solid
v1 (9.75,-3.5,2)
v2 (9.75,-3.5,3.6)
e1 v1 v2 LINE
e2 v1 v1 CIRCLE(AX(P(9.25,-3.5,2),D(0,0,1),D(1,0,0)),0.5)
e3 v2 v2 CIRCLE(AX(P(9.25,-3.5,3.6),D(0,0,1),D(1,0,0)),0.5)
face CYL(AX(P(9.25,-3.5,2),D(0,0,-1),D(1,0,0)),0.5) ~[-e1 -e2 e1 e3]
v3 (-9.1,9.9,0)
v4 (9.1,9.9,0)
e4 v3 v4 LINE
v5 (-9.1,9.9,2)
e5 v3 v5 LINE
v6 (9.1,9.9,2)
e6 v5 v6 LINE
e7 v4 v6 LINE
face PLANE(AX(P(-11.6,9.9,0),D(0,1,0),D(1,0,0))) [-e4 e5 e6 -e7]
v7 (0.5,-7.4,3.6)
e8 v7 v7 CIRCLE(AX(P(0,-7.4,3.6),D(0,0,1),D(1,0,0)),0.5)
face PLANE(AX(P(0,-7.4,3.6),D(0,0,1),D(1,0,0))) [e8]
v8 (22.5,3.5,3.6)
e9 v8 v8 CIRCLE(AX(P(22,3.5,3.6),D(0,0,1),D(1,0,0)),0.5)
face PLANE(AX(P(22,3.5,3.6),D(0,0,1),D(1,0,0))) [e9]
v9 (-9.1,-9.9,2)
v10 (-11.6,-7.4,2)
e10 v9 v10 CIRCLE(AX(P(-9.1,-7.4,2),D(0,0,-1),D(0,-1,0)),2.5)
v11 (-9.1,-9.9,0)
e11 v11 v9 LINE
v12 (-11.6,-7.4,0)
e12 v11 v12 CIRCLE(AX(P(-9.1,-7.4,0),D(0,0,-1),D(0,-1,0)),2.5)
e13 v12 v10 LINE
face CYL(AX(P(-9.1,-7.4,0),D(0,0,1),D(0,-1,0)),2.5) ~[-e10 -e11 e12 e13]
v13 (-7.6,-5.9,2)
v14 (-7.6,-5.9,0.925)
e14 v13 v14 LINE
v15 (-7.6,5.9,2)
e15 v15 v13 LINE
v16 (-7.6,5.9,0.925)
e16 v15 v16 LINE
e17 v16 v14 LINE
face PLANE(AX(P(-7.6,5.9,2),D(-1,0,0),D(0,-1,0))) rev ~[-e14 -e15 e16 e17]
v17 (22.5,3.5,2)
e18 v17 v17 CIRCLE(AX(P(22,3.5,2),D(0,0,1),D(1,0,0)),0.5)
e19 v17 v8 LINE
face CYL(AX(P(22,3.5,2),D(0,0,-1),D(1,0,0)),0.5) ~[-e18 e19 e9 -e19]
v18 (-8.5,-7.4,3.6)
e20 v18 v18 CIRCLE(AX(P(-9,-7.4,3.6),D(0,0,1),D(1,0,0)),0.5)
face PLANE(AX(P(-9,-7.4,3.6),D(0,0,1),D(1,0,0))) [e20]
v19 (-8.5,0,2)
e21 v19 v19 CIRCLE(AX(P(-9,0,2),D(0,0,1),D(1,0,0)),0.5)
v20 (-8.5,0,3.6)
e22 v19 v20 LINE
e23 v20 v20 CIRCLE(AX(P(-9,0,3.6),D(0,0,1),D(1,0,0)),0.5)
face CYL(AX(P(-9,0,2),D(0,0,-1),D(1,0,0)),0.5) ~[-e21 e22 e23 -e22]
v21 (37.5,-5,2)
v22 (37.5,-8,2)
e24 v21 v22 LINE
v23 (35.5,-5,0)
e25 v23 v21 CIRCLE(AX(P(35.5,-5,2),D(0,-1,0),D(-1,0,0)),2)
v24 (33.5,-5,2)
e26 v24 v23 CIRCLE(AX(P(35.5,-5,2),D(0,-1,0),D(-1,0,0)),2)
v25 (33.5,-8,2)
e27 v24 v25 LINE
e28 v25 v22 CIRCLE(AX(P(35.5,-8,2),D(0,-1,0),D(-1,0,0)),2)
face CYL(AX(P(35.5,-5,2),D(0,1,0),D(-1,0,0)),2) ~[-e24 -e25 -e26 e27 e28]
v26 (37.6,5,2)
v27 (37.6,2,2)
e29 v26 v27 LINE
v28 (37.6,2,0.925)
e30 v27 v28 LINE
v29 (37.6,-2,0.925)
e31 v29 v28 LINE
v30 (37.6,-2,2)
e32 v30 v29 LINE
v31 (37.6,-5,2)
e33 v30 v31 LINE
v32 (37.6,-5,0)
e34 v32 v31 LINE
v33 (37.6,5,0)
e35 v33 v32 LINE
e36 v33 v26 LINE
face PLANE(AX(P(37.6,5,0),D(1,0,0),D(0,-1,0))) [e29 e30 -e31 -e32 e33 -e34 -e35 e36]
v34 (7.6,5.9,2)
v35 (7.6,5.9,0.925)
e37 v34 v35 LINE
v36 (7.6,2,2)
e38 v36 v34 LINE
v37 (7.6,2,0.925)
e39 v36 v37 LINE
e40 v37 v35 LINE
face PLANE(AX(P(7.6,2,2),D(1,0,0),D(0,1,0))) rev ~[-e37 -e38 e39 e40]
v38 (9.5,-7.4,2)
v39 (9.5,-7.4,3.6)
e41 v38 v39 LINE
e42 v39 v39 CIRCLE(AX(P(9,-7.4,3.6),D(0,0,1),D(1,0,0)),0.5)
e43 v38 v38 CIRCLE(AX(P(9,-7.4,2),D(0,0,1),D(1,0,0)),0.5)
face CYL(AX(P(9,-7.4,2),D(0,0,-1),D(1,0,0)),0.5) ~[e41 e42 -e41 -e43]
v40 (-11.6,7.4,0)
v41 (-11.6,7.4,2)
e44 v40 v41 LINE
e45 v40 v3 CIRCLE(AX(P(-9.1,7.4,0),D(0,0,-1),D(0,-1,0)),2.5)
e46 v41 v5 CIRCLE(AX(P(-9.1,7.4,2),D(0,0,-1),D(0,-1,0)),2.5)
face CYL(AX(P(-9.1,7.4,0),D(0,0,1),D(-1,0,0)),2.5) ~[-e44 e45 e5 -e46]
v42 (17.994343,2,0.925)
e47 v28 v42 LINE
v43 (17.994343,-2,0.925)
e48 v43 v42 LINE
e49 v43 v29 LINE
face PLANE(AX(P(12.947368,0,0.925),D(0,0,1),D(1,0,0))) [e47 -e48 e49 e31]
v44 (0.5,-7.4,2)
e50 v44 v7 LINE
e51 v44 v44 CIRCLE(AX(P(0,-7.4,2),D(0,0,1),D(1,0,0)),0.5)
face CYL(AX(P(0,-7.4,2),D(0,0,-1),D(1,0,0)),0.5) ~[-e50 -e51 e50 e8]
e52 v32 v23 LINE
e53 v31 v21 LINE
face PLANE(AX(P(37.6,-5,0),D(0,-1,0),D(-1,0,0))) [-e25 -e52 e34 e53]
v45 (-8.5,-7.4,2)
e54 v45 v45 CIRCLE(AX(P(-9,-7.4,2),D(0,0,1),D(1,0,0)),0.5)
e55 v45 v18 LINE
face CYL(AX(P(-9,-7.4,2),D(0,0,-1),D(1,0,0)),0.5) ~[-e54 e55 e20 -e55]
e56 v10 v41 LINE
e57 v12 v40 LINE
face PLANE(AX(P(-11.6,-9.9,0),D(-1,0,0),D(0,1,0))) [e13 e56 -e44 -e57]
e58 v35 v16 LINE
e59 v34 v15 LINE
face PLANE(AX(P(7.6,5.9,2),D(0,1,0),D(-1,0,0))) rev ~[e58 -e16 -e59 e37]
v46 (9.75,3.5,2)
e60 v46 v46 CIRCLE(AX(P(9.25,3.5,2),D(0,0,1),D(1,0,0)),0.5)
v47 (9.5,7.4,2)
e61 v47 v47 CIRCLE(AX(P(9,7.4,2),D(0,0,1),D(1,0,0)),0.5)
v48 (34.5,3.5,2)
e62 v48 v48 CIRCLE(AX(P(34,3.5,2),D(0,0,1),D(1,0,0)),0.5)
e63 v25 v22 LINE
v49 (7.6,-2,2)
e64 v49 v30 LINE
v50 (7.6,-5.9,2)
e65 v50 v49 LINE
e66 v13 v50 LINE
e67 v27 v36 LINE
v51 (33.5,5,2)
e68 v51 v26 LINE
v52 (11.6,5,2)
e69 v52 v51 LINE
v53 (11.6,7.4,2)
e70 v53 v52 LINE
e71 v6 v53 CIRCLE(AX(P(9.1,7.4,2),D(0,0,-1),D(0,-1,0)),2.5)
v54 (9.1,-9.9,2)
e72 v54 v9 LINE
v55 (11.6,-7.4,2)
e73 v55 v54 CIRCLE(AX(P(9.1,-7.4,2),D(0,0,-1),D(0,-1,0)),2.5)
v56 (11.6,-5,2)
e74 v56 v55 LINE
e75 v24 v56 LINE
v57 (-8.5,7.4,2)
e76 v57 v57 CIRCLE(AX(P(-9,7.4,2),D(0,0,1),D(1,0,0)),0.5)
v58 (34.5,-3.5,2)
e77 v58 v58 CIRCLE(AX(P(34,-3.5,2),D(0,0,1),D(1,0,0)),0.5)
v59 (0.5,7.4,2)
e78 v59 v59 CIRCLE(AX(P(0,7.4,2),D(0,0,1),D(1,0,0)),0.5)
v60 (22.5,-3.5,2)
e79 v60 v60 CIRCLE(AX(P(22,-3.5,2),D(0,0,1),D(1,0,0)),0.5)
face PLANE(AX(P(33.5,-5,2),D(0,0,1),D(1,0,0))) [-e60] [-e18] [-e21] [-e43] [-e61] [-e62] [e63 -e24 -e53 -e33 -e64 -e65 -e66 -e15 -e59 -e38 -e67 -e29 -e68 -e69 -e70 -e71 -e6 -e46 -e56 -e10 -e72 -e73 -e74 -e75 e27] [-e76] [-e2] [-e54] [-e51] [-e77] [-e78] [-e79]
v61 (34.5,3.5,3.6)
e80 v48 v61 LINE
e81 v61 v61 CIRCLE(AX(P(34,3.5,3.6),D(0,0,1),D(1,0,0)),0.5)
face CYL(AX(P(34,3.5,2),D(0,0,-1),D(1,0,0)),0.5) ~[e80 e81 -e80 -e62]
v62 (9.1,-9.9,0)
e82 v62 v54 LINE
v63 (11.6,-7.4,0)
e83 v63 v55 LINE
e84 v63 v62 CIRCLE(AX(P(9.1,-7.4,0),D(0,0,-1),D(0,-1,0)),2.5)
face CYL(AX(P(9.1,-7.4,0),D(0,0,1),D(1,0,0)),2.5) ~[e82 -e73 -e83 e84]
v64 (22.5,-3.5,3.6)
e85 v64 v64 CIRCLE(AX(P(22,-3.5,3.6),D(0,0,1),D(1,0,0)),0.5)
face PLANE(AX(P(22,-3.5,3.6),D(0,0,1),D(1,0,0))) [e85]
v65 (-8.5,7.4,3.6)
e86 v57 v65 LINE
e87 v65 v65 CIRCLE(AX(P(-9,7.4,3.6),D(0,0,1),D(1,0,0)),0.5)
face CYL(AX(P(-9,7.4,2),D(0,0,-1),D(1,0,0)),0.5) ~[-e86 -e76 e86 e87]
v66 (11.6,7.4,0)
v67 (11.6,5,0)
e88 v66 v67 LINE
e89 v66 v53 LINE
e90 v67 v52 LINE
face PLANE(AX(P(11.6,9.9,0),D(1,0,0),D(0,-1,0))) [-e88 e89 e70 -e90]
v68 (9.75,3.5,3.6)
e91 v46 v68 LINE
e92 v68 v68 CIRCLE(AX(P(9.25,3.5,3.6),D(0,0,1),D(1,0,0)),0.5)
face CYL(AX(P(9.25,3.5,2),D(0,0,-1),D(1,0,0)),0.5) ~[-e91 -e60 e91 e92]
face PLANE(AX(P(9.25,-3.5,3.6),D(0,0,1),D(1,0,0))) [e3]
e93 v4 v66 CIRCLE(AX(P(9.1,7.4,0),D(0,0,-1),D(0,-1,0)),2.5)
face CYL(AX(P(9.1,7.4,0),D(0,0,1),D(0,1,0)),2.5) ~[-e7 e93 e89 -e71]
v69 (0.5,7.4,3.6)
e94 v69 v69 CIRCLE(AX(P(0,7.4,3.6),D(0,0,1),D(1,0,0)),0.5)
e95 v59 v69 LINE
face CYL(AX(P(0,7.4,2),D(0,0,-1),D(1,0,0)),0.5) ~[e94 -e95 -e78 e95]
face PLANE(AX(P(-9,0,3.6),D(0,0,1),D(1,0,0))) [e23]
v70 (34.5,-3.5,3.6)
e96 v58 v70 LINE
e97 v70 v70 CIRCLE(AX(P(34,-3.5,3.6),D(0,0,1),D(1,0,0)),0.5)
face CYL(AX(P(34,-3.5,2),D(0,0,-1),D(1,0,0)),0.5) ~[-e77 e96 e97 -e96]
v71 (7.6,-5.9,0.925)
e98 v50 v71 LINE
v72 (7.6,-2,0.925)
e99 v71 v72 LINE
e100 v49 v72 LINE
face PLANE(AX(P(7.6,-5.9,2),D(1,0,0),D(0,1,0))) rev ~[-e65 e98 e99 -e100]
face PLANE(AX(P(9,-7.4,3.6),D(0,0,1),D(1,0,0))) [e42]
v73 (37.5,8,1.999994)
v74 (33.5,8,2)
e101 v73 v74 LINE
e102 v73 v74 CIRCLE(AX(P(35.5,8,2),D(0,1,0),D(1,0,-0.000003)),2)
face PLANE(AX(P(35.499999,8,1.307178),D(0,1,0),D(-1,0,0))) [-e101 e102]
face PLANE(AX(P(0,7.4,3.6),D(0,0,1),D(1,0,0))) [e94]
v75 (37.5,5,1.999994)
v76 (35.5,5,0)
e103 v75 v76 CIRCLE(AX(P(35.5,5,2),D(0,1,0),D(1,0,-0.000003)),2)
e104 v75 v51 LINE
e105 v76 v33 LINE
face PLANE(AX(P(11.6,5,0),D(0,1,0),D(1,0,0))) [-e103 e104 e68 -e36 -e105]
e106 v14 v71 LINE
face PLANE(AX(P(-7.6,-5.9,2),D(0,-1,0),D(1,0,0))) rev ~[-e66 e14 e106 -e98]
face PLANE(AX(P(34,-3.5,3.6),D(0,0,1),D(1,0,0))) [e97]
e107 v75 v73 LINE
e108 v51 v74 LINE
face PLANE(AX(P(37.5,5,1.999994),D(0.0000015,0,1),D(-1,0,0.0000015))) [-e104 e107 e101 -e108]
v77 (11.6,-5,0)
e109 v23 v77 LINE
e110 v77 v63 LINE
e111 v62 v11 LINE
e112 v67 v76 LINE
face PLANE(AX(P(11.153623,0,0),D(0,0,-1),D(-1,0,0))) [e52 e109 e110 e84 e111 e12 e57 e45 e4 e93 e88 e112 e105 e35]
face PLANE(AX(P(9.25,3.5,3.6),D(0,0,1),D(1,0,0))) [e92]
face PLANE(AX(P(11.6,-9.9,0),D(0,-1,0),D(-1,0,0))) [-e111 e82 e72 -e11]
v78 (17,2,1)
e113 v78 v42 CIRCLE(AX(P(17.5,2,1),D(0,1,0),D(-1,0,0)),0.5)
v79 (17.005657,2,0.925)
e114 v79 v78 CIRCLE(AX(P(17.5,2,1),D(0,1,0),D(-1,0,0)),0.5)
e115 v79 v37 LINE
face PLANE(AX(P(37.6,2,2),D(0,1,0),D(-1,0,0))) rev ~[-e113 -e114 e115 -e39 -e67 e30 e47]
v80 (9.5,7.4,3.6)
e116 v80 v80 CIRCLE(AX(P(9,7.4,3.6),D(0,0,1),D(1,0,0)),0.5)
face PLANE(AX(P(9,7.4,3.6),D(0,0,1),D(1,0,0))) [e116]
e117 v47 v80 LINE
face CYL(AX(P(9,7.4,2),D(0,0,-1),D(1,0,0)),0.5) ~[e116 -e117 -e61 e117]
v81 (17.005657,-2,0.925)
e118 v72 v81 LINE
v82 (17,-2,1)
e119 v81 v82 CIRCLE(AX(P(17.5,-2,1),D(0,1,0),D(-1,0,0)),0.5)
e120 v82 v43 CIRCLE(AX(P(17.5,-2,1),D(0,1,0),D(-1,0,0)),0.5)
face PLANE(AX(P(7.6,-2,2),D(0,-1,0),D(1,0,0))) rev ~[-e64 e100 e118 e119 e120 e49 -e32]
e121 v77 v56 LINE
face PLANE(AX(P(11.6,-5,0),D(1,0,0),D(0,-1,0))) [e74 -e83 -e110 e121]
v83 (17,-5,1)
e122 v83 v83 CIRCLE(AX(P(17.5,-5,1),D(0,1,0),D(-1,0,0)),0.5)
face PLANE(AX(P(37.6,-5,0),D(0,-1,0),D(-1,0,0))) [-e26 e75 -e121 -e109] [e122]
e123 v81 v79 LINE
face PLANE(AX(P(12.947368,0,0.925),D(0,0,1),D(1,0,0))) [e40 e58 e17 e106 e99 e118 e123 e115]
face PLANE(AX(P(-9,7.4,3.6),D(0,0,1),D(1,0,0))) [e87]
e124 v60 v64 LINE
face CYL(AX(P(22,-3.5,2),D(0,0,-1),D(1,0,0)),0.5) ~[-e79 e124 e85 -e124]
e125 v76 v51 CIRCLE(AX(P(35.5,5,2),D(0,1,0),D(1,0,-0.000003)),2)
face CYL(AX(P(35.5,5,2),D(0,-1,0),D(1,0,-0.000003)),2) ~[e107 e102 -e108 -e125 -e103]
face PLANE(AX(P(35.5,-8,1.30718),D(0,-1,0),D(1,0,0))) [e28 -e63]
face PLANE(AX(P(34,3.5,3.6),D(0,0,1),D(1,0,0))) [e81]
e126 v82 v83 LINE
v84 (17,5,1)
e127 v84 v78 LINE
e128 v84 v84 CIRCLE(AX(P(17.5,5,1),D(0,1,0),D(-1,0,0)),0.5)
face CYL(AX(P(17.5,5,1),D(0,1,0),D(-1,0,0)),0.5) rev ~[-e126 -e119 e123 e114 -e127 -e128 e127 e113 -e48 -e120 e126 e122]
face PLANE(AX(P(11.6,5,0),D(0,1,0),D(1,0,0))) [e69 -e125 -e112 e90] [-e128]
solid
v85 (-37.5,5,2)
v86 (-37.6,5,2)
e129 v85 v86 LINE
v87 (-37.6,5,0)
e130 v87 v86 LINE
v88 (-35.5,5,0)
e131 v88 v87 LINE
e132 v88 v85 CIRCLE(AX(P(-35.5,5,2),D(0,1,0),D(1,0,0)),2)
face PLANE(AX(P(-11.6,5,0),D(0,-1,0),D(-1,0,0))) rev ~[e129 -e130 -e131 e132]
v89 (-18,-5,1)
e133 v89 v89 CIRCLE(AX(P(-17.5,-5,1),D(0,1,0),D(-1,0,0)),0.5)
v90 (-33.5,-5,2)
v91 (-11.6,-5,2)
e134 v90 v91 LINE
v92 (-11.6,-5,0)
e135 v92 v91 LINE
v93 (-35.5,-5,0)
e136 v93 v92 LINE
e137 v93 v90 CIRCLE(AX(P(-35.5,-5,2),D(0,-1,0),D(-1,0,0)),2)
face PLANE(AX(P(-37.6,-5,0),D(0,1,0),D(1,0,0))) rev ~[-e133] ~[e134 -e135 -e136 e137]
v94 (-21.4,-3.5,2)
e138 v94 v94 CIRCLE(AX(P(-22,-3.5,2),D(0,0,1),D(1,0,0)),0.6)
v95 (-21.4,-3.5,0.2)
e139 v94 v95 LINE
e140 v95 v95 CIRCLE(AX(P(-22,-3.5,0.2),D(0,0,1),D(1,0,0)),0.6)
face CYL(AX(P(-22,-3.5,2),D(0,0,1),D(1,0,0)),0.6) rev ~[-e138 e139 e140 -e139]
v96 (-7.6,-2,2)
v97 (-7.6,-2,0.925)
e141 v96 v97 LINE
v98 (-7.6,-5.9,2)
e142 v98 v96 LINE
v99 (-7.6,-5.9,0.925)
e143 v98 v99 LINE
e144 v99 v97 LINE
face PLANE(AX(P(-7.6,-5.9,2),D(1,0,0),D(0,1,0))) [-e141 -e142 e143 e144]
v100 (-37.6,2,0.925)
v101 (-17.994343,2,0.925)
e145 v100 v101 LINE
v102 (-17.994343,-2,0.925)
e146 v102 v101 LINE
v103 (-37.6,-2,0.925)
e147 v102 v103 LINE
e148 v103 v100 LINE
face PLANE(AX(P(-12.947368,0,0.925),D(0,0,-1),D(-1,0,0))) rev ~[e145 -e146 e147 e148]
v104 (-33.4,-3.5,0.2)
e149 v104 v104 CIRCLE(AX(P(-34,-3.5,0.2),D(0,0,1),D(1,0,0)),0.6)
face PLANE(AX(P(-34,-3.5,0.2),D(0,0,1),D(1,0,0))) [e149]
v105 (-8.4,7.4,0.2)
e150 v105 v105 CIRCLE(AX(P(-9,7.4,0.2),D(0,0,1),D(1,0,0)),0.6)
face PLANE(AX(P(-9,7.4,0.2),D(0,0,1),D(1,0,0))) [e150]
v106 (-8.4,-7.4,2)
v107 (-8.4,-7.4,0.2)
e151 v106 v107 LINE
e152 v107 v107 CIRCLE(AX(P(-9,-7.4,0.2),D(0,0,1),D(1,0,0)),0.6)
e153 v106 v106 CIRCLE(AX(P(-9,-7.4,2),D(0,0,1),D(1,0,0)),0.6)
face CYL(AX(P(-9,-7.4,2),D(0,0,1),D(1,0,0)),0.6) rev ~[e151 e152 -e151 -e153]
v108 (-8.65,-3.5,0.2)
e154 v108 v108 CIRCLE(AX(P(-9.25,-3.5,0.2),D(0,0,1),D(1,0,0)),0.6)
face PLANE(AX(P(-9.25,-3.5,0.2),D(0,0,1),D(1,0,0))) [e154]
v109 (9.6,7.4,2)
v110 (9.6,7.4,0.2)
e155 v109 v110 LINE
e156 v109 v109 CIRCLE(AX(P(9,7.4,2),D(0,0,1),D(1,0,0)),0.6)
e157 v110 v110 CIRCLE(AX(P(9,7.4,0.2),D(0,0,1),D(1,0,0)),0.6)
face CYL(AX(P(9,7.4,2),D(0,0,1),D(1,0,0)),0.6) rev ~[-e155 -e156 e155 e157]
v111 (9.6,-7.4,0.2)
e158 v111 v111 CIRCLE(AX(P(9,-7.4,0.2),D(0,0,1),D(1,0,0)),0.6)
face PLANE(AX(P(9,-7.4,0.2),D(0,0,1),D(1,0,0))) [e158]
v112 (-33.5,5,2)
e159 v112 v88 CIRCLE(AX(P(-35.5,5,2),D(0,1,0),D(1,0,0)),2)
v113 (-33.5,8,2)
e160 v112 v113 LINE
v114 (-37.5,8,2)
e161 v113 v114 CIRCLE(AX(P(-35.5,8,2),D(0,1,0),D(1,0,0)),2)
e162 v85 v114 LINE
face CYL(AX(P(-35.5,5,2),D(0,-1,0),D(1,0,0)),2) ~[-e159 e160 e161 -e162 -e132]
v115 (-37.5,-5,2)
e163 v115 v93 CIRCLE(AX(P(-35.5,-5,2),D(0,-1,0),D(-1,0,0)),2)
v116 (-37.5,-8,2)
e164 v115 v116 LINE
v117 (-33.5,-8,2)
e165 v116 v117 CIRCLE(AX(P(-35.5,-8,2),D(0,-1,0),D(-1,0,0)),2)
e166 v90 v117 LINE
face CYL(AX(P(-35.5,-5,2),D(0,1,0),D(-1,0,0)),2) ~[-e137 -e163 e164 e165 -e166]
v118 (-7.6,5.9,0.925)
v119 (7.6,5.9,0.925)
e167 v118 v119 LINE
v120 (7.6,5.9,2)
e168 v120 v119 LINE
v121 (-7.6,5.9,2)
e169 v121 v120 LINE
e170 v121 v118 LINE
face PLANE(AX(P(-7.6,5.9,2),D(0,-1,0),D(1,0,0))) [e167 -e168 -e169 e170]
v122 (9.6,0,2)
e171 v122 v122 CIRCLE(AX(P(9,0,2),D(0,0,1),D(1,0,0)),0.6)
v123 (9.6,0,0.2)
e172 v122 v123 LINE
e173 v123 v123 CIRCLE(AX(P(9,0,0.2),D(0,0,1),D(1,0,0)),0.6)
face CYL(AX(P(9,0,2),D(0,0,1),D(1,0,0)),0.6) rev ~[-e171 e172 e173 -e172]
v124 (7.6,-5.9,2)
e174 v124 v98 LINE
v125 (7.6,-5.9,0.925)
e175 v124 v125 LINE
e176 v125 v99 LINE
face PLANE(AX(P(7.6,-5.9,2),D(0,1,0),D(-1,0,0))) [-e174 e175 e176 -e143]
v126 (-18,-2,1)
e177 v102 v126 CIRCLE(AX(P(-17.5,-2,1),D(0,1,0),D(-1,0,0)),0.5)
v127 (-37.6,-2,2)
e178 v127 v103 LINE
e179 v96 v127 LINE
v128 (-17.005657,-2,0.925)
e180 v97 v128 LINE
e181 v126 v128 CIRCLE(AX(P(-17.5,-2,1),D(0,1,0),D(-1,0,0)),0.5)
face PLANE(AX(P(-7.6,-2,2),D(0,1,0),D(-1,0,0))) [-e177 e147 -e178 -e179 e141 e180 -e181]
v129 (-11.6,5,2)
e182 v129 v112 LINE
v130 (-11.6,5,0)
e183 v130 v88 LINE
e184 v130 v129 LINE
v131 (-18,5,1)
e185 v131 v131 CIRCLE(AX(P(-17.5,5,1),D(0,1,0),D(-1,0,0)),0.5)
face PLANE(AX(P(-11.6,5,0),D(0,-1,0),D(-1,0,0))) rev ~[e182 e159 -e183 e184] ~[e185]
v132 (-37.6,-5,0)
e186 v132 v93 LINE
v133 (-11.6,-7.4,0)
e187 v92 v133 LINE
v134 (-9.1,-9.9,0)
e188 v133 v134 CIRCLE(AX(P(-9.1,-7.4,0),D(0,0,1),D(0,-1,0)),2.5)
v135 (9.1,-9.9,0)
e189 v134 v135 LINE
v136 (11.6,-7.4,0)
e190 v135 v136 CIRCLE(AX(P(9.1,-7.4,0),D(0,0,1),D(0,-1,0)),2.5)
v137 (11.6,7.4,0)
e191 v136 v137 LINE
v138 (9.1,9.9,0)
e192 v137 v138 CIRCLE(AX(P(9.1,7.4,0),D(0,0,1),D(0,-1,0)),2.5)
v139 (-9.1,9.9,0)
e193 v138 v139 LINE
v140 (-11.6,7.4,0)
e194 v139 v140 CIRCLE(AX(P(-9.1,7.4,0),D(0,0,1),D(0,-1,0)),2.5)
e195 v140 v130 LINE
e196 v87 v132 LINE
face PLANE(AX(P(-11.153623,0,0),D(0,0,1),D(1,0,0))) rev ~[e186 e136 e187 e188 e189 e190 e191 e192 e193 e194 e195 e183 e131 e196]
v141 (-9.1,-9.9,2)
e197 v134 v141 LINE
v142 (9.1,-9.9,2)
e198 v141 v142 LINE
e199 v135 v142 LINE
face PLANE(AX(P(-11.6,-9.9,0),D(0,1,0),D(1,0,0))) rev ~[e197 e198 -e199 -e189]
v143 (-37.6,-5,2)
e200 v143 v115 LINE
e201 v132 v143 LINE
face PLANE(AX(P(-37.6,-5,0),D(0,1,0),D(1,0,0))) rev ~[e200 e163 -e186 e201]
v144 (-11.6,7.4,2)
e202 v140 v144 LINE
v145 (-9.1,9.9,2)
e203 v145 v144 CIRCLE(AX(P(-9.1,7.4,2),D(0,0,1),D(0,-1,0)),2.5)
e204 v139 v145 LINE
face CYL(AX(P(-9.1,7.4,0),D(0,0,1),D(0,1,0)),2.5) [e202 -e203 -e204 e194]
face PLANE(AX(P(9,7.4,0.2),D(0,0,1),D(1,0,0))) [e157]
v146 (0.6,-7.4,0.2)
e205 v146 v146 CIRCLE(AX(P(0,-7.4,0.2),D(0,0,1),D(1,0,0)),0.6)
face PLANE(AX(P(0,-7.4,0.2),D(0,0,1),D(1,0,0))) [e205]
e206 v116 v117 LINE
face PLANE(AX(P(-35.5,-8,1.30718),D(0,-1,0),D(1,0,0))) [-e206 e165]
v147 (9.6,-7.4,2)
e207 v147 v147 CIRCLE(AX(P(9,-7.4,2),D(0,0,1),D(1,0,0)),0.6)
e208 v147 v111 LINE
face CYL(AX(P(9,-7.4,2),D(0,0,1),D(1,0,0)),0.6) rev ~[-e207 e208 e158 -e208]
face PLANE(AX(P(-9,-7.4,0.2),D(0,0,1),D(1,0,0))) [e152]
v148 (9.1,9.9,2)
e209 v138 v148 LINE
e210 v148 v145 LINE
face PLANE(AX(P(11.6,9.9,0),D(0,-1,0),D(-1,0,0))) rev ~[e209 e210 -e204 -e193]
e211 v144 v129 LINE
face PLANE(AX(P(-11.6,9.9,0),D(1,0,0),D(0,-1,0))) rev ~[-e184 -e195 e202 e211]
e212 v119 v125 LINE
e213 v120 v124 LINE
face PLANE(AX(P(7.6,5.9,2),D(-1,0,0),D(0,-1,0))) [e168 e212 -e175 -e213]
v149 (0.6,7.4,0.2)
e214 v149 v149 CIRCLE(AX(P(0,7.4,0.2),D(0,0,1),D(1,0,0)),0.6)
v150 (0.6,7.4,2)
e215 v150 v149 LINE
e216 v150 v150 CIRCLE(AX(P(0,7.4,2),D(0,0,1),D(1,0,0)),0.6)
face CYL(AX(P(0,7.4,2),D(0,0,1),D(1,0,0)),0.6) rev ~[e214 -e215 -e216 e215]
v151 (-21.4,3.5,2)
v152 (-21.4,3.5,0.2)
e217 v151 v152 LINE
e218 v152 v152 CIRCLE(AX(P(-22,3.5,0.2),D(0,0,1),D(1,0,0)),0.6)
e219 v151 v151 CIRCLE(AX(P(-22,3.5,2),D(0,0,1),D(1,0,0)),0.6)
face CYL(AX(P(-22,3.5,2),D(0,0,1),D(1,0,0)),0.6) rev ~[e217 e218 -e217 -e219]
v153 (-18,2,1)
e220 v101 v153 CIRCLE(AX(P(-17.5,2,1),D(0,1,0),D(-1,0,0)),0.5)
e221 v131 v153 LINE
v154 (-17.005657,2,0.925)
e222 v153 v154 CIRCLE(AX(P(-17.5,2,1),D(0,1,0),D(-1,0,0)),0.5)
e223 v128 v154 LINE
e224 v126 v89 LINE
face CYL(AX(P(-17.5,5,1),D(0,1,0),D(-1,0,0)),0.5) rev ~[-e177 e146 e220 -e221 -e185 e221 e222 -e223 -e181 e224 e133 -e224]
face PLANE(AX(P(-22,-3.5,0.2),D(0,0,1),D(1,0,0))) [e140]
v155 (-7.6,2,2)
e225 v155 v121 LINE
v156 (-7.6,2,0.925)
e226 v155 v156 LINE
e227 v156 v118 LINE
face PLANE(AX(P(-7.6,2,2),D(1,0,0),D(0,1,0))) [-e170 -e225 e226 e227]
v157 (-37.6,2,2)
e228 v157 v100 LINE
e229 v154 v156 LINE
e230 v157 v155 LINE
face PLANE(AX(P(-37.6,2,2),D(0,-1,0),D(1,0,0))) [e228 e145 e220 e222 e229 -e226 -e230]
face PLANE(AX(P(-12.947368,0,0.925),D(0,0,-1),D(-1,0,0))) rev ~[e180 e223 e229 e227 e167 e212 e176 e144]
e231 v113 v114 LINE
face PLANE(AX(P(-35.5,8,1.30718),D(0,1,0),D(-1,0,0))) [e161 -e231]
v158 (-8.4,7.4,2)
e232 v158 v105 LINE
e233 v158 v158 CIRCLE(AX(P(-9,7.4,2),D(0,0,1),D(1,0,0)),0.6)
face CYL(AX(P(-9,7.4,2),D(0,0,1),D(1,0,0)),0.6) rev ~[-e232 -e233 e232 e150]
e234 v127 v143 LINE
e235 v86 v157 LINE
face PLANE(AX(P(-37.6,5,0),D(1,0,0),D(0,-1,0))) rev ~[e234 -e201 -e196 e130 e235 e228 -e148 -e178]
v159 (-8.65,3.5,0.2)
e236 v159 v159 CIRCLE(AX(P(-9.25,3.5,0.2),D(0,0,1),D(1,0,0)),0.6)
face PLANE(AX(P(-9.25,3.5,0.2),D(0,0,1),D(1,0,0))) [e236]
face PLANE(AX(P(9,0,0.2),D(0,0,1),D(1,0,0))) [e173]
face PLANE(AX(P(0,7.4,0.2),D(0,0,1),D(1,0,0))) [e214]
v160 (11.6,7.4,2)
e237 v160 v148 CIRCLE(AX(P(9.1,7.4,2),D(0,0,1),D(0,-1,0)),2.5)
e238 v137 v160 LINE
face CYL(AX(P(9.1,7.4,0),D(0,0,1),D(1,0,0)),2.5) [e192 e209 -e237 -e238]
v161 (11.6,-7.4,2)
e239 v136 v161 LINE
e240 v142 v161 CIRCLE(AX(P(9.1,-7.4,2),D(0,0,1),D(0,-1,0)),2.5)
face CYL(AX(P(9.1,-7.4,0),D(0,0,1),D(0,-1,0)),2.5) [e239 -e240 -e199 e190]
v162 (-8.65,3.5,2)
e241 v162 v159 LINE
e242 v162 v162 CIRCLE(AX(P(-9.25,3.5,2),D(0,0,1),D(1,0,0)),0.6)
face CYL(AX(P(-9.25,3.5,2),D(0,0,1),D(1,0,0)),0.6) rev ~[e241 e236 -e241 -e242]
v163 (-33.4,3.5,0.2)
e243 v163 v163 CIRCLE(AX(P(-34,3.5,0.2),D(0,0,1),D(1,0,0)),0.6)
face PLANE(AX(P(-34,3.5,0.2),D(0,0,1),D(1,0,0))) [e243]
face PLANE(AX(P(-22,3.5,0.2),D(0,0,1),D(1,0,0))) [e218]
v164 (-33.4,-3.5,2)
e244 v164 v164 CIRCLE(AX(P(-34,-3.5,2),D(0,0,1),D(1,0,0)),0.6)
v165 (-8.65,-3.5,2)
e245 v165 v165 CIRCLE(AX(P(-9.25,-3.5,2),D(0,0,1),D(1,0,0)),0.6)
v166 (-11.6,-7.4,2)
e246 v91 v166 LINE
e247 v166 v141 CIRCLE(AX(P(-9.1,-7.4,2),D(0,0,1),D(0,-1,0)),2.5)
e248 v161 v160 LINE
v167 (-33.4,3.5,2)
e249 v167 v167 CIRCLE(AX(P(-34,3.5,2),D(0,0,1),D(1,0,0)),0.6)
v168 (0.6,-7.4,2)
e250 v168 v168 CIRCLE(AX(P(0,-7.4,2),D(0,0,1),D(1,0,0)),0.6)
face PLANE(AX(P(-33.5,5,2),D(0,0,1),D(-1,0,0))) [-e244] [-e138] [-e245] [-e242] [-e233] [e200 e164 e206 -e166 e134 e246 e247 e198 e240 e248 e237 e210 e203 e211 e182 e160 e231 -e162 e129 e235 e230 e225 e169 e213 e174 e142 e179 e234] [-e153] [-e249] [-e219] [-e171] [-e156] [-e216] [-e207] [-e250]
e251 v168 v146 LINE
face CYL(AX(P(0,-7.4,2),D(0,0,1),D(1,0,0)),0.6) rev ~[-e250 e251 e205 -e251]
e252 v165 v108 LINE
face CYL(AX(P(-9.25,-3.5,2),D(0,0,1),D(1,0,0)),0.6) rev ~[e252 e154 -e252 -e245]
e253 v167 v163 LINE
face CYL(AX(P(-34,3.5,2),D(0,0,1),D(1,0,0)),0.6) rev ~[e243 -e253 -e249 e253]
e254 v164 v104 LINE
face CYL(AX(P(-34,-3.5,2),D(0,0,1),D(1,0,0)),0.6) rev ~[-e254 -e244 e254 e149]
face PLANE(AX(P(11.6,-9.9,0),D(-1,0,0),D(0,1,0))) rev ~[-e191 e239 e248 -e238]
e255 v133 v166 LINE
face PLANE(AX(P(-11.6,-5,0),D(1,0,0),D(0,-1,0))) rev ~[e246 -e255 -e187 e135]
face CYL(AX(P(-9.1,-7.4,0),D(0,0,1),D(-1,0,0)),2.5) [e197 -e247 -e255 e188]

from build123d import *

# Parameters (mm, degrees)
PAD_DEPTH           = 2
POCKET_DEPTH        = 1.075
SKETCH002_R         = 0.6
POCKET001_DEPTH     = 1.8
FILLET_R            = 2.5
PAD005_DEPTH        = 3
PAD006_DEPTH        = 3
SKETCH007_R         = 0.5
POCKET003_DEPTH     = 14.901
PAD001_DEPTH        = 2
POCKET002_DEPTH     = 1.075
MIRROREDSKETCH002_R = 0.5
PAD002_DEPTH        = 1.6
FILLET001_R         = 2.5
PAD003_DEPTH        = 3
PAD004_DEPTH        = 3
SKETCH008_R         = 0.5
POCKET004_DEPTH     = 14.901


with BuildPart() as keybody1:
    # Sketch → Pad (new body)
    with BuildSketch(Plane.XY):
        Polygon((-11.6, -5), (-11.6, -9.9), (11.6, -9.9), (11.6, 9.9), (-11.6, 9.9), (-11.6, 5), (-37.6, 5), (-37.6, -5), align=None)
    extrude(amount=PAD_DEPTH)

    # Sketch001 (on Face10 of Pad) → Pocket (cut)
    with BuildSketch(Plane.XY.offset(2)):
        Polygon((-7.6, 2), (-7.6, 5.9), (7.6, 5.9), (7.6, -5.9), (-7.6, -5.9), (-7.6, -2), (-37.6, -2), (-37.6, 2), align=None)
    extrude(amount=-POCKET_DEPTH, mode=Mode.SUBTRACT)

    # Sketch002 (on Face5 of Pocket) → Pocket001 (cut)
    with BuildSketch(Plane.XY.offset(2)):
        with Locations((-34, 3.5)):
            Circle(SKETCH002_R)
        with Locations((-34, -3.5)):
            Circle(SKETCH002_R)
        with Locations((-22, 3.5)):
            Circle(SKETCH002_R)
        with Locations((-22, -3.5)):
            Circle(SKETCH002_R)
        with Locations((-9.25, -3.5)):
            Circle(SKETCH002_R)
        with Locations((-9.25, 3.5)):
            Circle(SKETCH002_R)
        with Locations((-9, 7.4)):
            Circle(SKETCH002_R)
        with Locations((0, 7.4)):
            Circle(SKETCH002_R)
        with Locations((9, 7.4)):
            Circle(SKETCH002_R)
        with Locations((9, 0)):
            Circle(SKETCH002_R)
        with Locations((9, -7.4)):
            Circle(SKETCH002_R)
        with Locations((0, -7.4)):
            Circle(SKETCH002_R)
        with Locations((-9, -7.4)):
            Circle(SKETCH002_R)
    extrude(amount=-POCKET001_DEPTH, mode=Mode.SUBTRACT)

    # Fillet
    fillet_edges = [keybody1.edges().sort_by_distance(p)[0] for p in [
        (-11.6, -9.9, 1),
        (11.6, -9.9, 1),
        (11.6, 9.9, 1),
        (-11.6, 9.9, 1),
    ]]
    fillet(fillet_edges, radius=FILLET_R)

    # Sketch005 (on Face4 of Fillet) → Pad005 (join)
    with BuildSketch(Plane.XZ.offset(5)):
        with BuildLine():
            ThreePointArc((-37.5, 2), (-35.5, 0), (-33.5, 2))
            Line((-37.5, 2), (-33.5, 2))
        make_face()
    extrude(amount=PAD005_DEPTH)

    # Sketch006 (on Face10 of Pad005) → Pad006 (join)
    with BuildSketch(Plane(origin=(0, 5, 0), x_dir=(-1, 0, 0), z_dir=(0, 1, 0))):
        with BuildLine():
            ThreePointArc((33.5, 2), (35.5, 0), (37.5, 2))
            Line((33.5, 2), (37.5, 2))
        make_face()
    extrude(amount=PAD006_DEPTH)

    # Sketch007 (on Face10 of Pad006) → Pocket003 (cut, through all)
    with BuildSketch(Plane(origin=(0, 5, 0), x_dir=(-1, 0, 0), z_dir=(0, 1, 0))):
        with Locations((17.5, 1)):
            Circle(SKETCH007_R)
    extrude(amount=-POCKET003_DEPTH, mode=Mode.SUBTRACT)


with BuildPart() as keybody2:
    # MirroredSketch → Pad001 (new body)
    with BuildSketch(Plane.XY):
        Polygon((11.6, -5), (11.6, -9.9), (-11.6, -9.9), (-11.6, 9.9), (11.6, 9.9), (11.6, 5), (37.6, 5), (37.6, -5), align=None)
    extrude(amount=PAD001_DEPTH)

    # MirroredSketch001 (on Face10 of Pad001) → Pocket002 (cut)
    with BuildSketch(Plane.XY.offset(2)):
        Polygon((7.6, 2), (7.6, 5.9), (-7.6, 5.9), (-7.6, -5.9), (7.6, -5.9), (7.6, -2), (37.6, -2), (37.6, 2), align=None)
    extrude(amount=-POCKET002_DEPTH, mode=Mode.SUBTRACT)

    # MirroredSketch002 (on Face5 of Pocket002) → Pad002 (join)
    with BuildSketch(Plane.XY.offset(2)):
        with Locations((34, 3.5)):
            Circle(MIRROREDSKETCH002_R)
        with Locations((34, -3.5)):
            Circle(MIRROREDSKETCH002_R)
        with Locations((22, 3.5)):
            Circle(MIRROREDSKETCH002_R)
        with Locations((22, -3.5)):
            Circle(MIRROREDSKETCH002_R)
        with Locations((9.25, -3.5)):
            Circle(MIRROREDSKETCH002_R)
        with Locations((9.25, 3.5)):
            Circle(MIRROREDSKETCH002_R)
        with Locations((9, 7.4)):
            Circle(MIRROREDSKETCH002_R)
        with Locations((0, 7.4)):
            Circle(MIRROREDSKETCH002_R)
        with Locations((-9, 7.4)):
            Circle(MIRROREDSKETCH002_R)
        with Locations((-9, 0)):
            Circle(MIRROREDSKETCH002_R)
        with Locations((-9, -7.4)):
            Circle(MIRROREDSKETCH002_R)
        with Locations((0, -7.4)):
            Circle(MIRROREDSKETCH002_R)
        with Locations((9, -7.4)):
            Circle(MIRROREDSKETCH002_R)
    extrude(amount=PAD002_DEPTH)

    # Fillet001
    fillet001_edges = [keybody2.edges().sort_by_distance(p)[0] for p in [
        (11.6, 9.9, 1),
        (-11.6, 9.9, 1),
        (11.6, -9.9, 1),
        (-11.6, -9.9, 1),
    ]]
    fillet(fillet001_edges, radius=FILLET001_R)

    # Sketch003 (on Face9 of Fillet001) → Pad003 (join)
    with BuildSketch(Plane(origin=(0, 5, 0), x_dir=(-1, 0, 0), z_dir=(0, 1, 0))):
        with BuildLine():
            ThreePointArc((-37.5, 1.999994), (-35.499997, 0), (-33.5, 2))
            Line((-37.5, 1.999994), (-33.5, 2))
        make_face()
    extrude(amount=PAD003_DEPTH)

    # Sketch004 (on Face4 of Pad003) → Pad004 (join)
    with BuildSketch(Plane.XZ.offset(5)):
        with BuildLine():
            ThreePointArc((33.5, 2), (35.5, 0), (37.5, 2))
            Line((33.5, 2), (37.5, 2))
        make_face()
    extrude(amount=PAD004_DEPTH)

    # Sketch008 (on Face10 of Pad004) → Pocket004 (cut, through all)
    with BuildSketch(Plane(origin=(0, 5, 0), x_dir=(-1, 0, 0), z_dir=(0, 1, 0))):
        with Locations((-17.5, 1)):
            Circle(SKETCH008_R)
    extrude(amount=-POCKET004_DEPTH, mode=Mode.SUBTRACT)


solid = Compound([keybody1.part, keybody2.part])
